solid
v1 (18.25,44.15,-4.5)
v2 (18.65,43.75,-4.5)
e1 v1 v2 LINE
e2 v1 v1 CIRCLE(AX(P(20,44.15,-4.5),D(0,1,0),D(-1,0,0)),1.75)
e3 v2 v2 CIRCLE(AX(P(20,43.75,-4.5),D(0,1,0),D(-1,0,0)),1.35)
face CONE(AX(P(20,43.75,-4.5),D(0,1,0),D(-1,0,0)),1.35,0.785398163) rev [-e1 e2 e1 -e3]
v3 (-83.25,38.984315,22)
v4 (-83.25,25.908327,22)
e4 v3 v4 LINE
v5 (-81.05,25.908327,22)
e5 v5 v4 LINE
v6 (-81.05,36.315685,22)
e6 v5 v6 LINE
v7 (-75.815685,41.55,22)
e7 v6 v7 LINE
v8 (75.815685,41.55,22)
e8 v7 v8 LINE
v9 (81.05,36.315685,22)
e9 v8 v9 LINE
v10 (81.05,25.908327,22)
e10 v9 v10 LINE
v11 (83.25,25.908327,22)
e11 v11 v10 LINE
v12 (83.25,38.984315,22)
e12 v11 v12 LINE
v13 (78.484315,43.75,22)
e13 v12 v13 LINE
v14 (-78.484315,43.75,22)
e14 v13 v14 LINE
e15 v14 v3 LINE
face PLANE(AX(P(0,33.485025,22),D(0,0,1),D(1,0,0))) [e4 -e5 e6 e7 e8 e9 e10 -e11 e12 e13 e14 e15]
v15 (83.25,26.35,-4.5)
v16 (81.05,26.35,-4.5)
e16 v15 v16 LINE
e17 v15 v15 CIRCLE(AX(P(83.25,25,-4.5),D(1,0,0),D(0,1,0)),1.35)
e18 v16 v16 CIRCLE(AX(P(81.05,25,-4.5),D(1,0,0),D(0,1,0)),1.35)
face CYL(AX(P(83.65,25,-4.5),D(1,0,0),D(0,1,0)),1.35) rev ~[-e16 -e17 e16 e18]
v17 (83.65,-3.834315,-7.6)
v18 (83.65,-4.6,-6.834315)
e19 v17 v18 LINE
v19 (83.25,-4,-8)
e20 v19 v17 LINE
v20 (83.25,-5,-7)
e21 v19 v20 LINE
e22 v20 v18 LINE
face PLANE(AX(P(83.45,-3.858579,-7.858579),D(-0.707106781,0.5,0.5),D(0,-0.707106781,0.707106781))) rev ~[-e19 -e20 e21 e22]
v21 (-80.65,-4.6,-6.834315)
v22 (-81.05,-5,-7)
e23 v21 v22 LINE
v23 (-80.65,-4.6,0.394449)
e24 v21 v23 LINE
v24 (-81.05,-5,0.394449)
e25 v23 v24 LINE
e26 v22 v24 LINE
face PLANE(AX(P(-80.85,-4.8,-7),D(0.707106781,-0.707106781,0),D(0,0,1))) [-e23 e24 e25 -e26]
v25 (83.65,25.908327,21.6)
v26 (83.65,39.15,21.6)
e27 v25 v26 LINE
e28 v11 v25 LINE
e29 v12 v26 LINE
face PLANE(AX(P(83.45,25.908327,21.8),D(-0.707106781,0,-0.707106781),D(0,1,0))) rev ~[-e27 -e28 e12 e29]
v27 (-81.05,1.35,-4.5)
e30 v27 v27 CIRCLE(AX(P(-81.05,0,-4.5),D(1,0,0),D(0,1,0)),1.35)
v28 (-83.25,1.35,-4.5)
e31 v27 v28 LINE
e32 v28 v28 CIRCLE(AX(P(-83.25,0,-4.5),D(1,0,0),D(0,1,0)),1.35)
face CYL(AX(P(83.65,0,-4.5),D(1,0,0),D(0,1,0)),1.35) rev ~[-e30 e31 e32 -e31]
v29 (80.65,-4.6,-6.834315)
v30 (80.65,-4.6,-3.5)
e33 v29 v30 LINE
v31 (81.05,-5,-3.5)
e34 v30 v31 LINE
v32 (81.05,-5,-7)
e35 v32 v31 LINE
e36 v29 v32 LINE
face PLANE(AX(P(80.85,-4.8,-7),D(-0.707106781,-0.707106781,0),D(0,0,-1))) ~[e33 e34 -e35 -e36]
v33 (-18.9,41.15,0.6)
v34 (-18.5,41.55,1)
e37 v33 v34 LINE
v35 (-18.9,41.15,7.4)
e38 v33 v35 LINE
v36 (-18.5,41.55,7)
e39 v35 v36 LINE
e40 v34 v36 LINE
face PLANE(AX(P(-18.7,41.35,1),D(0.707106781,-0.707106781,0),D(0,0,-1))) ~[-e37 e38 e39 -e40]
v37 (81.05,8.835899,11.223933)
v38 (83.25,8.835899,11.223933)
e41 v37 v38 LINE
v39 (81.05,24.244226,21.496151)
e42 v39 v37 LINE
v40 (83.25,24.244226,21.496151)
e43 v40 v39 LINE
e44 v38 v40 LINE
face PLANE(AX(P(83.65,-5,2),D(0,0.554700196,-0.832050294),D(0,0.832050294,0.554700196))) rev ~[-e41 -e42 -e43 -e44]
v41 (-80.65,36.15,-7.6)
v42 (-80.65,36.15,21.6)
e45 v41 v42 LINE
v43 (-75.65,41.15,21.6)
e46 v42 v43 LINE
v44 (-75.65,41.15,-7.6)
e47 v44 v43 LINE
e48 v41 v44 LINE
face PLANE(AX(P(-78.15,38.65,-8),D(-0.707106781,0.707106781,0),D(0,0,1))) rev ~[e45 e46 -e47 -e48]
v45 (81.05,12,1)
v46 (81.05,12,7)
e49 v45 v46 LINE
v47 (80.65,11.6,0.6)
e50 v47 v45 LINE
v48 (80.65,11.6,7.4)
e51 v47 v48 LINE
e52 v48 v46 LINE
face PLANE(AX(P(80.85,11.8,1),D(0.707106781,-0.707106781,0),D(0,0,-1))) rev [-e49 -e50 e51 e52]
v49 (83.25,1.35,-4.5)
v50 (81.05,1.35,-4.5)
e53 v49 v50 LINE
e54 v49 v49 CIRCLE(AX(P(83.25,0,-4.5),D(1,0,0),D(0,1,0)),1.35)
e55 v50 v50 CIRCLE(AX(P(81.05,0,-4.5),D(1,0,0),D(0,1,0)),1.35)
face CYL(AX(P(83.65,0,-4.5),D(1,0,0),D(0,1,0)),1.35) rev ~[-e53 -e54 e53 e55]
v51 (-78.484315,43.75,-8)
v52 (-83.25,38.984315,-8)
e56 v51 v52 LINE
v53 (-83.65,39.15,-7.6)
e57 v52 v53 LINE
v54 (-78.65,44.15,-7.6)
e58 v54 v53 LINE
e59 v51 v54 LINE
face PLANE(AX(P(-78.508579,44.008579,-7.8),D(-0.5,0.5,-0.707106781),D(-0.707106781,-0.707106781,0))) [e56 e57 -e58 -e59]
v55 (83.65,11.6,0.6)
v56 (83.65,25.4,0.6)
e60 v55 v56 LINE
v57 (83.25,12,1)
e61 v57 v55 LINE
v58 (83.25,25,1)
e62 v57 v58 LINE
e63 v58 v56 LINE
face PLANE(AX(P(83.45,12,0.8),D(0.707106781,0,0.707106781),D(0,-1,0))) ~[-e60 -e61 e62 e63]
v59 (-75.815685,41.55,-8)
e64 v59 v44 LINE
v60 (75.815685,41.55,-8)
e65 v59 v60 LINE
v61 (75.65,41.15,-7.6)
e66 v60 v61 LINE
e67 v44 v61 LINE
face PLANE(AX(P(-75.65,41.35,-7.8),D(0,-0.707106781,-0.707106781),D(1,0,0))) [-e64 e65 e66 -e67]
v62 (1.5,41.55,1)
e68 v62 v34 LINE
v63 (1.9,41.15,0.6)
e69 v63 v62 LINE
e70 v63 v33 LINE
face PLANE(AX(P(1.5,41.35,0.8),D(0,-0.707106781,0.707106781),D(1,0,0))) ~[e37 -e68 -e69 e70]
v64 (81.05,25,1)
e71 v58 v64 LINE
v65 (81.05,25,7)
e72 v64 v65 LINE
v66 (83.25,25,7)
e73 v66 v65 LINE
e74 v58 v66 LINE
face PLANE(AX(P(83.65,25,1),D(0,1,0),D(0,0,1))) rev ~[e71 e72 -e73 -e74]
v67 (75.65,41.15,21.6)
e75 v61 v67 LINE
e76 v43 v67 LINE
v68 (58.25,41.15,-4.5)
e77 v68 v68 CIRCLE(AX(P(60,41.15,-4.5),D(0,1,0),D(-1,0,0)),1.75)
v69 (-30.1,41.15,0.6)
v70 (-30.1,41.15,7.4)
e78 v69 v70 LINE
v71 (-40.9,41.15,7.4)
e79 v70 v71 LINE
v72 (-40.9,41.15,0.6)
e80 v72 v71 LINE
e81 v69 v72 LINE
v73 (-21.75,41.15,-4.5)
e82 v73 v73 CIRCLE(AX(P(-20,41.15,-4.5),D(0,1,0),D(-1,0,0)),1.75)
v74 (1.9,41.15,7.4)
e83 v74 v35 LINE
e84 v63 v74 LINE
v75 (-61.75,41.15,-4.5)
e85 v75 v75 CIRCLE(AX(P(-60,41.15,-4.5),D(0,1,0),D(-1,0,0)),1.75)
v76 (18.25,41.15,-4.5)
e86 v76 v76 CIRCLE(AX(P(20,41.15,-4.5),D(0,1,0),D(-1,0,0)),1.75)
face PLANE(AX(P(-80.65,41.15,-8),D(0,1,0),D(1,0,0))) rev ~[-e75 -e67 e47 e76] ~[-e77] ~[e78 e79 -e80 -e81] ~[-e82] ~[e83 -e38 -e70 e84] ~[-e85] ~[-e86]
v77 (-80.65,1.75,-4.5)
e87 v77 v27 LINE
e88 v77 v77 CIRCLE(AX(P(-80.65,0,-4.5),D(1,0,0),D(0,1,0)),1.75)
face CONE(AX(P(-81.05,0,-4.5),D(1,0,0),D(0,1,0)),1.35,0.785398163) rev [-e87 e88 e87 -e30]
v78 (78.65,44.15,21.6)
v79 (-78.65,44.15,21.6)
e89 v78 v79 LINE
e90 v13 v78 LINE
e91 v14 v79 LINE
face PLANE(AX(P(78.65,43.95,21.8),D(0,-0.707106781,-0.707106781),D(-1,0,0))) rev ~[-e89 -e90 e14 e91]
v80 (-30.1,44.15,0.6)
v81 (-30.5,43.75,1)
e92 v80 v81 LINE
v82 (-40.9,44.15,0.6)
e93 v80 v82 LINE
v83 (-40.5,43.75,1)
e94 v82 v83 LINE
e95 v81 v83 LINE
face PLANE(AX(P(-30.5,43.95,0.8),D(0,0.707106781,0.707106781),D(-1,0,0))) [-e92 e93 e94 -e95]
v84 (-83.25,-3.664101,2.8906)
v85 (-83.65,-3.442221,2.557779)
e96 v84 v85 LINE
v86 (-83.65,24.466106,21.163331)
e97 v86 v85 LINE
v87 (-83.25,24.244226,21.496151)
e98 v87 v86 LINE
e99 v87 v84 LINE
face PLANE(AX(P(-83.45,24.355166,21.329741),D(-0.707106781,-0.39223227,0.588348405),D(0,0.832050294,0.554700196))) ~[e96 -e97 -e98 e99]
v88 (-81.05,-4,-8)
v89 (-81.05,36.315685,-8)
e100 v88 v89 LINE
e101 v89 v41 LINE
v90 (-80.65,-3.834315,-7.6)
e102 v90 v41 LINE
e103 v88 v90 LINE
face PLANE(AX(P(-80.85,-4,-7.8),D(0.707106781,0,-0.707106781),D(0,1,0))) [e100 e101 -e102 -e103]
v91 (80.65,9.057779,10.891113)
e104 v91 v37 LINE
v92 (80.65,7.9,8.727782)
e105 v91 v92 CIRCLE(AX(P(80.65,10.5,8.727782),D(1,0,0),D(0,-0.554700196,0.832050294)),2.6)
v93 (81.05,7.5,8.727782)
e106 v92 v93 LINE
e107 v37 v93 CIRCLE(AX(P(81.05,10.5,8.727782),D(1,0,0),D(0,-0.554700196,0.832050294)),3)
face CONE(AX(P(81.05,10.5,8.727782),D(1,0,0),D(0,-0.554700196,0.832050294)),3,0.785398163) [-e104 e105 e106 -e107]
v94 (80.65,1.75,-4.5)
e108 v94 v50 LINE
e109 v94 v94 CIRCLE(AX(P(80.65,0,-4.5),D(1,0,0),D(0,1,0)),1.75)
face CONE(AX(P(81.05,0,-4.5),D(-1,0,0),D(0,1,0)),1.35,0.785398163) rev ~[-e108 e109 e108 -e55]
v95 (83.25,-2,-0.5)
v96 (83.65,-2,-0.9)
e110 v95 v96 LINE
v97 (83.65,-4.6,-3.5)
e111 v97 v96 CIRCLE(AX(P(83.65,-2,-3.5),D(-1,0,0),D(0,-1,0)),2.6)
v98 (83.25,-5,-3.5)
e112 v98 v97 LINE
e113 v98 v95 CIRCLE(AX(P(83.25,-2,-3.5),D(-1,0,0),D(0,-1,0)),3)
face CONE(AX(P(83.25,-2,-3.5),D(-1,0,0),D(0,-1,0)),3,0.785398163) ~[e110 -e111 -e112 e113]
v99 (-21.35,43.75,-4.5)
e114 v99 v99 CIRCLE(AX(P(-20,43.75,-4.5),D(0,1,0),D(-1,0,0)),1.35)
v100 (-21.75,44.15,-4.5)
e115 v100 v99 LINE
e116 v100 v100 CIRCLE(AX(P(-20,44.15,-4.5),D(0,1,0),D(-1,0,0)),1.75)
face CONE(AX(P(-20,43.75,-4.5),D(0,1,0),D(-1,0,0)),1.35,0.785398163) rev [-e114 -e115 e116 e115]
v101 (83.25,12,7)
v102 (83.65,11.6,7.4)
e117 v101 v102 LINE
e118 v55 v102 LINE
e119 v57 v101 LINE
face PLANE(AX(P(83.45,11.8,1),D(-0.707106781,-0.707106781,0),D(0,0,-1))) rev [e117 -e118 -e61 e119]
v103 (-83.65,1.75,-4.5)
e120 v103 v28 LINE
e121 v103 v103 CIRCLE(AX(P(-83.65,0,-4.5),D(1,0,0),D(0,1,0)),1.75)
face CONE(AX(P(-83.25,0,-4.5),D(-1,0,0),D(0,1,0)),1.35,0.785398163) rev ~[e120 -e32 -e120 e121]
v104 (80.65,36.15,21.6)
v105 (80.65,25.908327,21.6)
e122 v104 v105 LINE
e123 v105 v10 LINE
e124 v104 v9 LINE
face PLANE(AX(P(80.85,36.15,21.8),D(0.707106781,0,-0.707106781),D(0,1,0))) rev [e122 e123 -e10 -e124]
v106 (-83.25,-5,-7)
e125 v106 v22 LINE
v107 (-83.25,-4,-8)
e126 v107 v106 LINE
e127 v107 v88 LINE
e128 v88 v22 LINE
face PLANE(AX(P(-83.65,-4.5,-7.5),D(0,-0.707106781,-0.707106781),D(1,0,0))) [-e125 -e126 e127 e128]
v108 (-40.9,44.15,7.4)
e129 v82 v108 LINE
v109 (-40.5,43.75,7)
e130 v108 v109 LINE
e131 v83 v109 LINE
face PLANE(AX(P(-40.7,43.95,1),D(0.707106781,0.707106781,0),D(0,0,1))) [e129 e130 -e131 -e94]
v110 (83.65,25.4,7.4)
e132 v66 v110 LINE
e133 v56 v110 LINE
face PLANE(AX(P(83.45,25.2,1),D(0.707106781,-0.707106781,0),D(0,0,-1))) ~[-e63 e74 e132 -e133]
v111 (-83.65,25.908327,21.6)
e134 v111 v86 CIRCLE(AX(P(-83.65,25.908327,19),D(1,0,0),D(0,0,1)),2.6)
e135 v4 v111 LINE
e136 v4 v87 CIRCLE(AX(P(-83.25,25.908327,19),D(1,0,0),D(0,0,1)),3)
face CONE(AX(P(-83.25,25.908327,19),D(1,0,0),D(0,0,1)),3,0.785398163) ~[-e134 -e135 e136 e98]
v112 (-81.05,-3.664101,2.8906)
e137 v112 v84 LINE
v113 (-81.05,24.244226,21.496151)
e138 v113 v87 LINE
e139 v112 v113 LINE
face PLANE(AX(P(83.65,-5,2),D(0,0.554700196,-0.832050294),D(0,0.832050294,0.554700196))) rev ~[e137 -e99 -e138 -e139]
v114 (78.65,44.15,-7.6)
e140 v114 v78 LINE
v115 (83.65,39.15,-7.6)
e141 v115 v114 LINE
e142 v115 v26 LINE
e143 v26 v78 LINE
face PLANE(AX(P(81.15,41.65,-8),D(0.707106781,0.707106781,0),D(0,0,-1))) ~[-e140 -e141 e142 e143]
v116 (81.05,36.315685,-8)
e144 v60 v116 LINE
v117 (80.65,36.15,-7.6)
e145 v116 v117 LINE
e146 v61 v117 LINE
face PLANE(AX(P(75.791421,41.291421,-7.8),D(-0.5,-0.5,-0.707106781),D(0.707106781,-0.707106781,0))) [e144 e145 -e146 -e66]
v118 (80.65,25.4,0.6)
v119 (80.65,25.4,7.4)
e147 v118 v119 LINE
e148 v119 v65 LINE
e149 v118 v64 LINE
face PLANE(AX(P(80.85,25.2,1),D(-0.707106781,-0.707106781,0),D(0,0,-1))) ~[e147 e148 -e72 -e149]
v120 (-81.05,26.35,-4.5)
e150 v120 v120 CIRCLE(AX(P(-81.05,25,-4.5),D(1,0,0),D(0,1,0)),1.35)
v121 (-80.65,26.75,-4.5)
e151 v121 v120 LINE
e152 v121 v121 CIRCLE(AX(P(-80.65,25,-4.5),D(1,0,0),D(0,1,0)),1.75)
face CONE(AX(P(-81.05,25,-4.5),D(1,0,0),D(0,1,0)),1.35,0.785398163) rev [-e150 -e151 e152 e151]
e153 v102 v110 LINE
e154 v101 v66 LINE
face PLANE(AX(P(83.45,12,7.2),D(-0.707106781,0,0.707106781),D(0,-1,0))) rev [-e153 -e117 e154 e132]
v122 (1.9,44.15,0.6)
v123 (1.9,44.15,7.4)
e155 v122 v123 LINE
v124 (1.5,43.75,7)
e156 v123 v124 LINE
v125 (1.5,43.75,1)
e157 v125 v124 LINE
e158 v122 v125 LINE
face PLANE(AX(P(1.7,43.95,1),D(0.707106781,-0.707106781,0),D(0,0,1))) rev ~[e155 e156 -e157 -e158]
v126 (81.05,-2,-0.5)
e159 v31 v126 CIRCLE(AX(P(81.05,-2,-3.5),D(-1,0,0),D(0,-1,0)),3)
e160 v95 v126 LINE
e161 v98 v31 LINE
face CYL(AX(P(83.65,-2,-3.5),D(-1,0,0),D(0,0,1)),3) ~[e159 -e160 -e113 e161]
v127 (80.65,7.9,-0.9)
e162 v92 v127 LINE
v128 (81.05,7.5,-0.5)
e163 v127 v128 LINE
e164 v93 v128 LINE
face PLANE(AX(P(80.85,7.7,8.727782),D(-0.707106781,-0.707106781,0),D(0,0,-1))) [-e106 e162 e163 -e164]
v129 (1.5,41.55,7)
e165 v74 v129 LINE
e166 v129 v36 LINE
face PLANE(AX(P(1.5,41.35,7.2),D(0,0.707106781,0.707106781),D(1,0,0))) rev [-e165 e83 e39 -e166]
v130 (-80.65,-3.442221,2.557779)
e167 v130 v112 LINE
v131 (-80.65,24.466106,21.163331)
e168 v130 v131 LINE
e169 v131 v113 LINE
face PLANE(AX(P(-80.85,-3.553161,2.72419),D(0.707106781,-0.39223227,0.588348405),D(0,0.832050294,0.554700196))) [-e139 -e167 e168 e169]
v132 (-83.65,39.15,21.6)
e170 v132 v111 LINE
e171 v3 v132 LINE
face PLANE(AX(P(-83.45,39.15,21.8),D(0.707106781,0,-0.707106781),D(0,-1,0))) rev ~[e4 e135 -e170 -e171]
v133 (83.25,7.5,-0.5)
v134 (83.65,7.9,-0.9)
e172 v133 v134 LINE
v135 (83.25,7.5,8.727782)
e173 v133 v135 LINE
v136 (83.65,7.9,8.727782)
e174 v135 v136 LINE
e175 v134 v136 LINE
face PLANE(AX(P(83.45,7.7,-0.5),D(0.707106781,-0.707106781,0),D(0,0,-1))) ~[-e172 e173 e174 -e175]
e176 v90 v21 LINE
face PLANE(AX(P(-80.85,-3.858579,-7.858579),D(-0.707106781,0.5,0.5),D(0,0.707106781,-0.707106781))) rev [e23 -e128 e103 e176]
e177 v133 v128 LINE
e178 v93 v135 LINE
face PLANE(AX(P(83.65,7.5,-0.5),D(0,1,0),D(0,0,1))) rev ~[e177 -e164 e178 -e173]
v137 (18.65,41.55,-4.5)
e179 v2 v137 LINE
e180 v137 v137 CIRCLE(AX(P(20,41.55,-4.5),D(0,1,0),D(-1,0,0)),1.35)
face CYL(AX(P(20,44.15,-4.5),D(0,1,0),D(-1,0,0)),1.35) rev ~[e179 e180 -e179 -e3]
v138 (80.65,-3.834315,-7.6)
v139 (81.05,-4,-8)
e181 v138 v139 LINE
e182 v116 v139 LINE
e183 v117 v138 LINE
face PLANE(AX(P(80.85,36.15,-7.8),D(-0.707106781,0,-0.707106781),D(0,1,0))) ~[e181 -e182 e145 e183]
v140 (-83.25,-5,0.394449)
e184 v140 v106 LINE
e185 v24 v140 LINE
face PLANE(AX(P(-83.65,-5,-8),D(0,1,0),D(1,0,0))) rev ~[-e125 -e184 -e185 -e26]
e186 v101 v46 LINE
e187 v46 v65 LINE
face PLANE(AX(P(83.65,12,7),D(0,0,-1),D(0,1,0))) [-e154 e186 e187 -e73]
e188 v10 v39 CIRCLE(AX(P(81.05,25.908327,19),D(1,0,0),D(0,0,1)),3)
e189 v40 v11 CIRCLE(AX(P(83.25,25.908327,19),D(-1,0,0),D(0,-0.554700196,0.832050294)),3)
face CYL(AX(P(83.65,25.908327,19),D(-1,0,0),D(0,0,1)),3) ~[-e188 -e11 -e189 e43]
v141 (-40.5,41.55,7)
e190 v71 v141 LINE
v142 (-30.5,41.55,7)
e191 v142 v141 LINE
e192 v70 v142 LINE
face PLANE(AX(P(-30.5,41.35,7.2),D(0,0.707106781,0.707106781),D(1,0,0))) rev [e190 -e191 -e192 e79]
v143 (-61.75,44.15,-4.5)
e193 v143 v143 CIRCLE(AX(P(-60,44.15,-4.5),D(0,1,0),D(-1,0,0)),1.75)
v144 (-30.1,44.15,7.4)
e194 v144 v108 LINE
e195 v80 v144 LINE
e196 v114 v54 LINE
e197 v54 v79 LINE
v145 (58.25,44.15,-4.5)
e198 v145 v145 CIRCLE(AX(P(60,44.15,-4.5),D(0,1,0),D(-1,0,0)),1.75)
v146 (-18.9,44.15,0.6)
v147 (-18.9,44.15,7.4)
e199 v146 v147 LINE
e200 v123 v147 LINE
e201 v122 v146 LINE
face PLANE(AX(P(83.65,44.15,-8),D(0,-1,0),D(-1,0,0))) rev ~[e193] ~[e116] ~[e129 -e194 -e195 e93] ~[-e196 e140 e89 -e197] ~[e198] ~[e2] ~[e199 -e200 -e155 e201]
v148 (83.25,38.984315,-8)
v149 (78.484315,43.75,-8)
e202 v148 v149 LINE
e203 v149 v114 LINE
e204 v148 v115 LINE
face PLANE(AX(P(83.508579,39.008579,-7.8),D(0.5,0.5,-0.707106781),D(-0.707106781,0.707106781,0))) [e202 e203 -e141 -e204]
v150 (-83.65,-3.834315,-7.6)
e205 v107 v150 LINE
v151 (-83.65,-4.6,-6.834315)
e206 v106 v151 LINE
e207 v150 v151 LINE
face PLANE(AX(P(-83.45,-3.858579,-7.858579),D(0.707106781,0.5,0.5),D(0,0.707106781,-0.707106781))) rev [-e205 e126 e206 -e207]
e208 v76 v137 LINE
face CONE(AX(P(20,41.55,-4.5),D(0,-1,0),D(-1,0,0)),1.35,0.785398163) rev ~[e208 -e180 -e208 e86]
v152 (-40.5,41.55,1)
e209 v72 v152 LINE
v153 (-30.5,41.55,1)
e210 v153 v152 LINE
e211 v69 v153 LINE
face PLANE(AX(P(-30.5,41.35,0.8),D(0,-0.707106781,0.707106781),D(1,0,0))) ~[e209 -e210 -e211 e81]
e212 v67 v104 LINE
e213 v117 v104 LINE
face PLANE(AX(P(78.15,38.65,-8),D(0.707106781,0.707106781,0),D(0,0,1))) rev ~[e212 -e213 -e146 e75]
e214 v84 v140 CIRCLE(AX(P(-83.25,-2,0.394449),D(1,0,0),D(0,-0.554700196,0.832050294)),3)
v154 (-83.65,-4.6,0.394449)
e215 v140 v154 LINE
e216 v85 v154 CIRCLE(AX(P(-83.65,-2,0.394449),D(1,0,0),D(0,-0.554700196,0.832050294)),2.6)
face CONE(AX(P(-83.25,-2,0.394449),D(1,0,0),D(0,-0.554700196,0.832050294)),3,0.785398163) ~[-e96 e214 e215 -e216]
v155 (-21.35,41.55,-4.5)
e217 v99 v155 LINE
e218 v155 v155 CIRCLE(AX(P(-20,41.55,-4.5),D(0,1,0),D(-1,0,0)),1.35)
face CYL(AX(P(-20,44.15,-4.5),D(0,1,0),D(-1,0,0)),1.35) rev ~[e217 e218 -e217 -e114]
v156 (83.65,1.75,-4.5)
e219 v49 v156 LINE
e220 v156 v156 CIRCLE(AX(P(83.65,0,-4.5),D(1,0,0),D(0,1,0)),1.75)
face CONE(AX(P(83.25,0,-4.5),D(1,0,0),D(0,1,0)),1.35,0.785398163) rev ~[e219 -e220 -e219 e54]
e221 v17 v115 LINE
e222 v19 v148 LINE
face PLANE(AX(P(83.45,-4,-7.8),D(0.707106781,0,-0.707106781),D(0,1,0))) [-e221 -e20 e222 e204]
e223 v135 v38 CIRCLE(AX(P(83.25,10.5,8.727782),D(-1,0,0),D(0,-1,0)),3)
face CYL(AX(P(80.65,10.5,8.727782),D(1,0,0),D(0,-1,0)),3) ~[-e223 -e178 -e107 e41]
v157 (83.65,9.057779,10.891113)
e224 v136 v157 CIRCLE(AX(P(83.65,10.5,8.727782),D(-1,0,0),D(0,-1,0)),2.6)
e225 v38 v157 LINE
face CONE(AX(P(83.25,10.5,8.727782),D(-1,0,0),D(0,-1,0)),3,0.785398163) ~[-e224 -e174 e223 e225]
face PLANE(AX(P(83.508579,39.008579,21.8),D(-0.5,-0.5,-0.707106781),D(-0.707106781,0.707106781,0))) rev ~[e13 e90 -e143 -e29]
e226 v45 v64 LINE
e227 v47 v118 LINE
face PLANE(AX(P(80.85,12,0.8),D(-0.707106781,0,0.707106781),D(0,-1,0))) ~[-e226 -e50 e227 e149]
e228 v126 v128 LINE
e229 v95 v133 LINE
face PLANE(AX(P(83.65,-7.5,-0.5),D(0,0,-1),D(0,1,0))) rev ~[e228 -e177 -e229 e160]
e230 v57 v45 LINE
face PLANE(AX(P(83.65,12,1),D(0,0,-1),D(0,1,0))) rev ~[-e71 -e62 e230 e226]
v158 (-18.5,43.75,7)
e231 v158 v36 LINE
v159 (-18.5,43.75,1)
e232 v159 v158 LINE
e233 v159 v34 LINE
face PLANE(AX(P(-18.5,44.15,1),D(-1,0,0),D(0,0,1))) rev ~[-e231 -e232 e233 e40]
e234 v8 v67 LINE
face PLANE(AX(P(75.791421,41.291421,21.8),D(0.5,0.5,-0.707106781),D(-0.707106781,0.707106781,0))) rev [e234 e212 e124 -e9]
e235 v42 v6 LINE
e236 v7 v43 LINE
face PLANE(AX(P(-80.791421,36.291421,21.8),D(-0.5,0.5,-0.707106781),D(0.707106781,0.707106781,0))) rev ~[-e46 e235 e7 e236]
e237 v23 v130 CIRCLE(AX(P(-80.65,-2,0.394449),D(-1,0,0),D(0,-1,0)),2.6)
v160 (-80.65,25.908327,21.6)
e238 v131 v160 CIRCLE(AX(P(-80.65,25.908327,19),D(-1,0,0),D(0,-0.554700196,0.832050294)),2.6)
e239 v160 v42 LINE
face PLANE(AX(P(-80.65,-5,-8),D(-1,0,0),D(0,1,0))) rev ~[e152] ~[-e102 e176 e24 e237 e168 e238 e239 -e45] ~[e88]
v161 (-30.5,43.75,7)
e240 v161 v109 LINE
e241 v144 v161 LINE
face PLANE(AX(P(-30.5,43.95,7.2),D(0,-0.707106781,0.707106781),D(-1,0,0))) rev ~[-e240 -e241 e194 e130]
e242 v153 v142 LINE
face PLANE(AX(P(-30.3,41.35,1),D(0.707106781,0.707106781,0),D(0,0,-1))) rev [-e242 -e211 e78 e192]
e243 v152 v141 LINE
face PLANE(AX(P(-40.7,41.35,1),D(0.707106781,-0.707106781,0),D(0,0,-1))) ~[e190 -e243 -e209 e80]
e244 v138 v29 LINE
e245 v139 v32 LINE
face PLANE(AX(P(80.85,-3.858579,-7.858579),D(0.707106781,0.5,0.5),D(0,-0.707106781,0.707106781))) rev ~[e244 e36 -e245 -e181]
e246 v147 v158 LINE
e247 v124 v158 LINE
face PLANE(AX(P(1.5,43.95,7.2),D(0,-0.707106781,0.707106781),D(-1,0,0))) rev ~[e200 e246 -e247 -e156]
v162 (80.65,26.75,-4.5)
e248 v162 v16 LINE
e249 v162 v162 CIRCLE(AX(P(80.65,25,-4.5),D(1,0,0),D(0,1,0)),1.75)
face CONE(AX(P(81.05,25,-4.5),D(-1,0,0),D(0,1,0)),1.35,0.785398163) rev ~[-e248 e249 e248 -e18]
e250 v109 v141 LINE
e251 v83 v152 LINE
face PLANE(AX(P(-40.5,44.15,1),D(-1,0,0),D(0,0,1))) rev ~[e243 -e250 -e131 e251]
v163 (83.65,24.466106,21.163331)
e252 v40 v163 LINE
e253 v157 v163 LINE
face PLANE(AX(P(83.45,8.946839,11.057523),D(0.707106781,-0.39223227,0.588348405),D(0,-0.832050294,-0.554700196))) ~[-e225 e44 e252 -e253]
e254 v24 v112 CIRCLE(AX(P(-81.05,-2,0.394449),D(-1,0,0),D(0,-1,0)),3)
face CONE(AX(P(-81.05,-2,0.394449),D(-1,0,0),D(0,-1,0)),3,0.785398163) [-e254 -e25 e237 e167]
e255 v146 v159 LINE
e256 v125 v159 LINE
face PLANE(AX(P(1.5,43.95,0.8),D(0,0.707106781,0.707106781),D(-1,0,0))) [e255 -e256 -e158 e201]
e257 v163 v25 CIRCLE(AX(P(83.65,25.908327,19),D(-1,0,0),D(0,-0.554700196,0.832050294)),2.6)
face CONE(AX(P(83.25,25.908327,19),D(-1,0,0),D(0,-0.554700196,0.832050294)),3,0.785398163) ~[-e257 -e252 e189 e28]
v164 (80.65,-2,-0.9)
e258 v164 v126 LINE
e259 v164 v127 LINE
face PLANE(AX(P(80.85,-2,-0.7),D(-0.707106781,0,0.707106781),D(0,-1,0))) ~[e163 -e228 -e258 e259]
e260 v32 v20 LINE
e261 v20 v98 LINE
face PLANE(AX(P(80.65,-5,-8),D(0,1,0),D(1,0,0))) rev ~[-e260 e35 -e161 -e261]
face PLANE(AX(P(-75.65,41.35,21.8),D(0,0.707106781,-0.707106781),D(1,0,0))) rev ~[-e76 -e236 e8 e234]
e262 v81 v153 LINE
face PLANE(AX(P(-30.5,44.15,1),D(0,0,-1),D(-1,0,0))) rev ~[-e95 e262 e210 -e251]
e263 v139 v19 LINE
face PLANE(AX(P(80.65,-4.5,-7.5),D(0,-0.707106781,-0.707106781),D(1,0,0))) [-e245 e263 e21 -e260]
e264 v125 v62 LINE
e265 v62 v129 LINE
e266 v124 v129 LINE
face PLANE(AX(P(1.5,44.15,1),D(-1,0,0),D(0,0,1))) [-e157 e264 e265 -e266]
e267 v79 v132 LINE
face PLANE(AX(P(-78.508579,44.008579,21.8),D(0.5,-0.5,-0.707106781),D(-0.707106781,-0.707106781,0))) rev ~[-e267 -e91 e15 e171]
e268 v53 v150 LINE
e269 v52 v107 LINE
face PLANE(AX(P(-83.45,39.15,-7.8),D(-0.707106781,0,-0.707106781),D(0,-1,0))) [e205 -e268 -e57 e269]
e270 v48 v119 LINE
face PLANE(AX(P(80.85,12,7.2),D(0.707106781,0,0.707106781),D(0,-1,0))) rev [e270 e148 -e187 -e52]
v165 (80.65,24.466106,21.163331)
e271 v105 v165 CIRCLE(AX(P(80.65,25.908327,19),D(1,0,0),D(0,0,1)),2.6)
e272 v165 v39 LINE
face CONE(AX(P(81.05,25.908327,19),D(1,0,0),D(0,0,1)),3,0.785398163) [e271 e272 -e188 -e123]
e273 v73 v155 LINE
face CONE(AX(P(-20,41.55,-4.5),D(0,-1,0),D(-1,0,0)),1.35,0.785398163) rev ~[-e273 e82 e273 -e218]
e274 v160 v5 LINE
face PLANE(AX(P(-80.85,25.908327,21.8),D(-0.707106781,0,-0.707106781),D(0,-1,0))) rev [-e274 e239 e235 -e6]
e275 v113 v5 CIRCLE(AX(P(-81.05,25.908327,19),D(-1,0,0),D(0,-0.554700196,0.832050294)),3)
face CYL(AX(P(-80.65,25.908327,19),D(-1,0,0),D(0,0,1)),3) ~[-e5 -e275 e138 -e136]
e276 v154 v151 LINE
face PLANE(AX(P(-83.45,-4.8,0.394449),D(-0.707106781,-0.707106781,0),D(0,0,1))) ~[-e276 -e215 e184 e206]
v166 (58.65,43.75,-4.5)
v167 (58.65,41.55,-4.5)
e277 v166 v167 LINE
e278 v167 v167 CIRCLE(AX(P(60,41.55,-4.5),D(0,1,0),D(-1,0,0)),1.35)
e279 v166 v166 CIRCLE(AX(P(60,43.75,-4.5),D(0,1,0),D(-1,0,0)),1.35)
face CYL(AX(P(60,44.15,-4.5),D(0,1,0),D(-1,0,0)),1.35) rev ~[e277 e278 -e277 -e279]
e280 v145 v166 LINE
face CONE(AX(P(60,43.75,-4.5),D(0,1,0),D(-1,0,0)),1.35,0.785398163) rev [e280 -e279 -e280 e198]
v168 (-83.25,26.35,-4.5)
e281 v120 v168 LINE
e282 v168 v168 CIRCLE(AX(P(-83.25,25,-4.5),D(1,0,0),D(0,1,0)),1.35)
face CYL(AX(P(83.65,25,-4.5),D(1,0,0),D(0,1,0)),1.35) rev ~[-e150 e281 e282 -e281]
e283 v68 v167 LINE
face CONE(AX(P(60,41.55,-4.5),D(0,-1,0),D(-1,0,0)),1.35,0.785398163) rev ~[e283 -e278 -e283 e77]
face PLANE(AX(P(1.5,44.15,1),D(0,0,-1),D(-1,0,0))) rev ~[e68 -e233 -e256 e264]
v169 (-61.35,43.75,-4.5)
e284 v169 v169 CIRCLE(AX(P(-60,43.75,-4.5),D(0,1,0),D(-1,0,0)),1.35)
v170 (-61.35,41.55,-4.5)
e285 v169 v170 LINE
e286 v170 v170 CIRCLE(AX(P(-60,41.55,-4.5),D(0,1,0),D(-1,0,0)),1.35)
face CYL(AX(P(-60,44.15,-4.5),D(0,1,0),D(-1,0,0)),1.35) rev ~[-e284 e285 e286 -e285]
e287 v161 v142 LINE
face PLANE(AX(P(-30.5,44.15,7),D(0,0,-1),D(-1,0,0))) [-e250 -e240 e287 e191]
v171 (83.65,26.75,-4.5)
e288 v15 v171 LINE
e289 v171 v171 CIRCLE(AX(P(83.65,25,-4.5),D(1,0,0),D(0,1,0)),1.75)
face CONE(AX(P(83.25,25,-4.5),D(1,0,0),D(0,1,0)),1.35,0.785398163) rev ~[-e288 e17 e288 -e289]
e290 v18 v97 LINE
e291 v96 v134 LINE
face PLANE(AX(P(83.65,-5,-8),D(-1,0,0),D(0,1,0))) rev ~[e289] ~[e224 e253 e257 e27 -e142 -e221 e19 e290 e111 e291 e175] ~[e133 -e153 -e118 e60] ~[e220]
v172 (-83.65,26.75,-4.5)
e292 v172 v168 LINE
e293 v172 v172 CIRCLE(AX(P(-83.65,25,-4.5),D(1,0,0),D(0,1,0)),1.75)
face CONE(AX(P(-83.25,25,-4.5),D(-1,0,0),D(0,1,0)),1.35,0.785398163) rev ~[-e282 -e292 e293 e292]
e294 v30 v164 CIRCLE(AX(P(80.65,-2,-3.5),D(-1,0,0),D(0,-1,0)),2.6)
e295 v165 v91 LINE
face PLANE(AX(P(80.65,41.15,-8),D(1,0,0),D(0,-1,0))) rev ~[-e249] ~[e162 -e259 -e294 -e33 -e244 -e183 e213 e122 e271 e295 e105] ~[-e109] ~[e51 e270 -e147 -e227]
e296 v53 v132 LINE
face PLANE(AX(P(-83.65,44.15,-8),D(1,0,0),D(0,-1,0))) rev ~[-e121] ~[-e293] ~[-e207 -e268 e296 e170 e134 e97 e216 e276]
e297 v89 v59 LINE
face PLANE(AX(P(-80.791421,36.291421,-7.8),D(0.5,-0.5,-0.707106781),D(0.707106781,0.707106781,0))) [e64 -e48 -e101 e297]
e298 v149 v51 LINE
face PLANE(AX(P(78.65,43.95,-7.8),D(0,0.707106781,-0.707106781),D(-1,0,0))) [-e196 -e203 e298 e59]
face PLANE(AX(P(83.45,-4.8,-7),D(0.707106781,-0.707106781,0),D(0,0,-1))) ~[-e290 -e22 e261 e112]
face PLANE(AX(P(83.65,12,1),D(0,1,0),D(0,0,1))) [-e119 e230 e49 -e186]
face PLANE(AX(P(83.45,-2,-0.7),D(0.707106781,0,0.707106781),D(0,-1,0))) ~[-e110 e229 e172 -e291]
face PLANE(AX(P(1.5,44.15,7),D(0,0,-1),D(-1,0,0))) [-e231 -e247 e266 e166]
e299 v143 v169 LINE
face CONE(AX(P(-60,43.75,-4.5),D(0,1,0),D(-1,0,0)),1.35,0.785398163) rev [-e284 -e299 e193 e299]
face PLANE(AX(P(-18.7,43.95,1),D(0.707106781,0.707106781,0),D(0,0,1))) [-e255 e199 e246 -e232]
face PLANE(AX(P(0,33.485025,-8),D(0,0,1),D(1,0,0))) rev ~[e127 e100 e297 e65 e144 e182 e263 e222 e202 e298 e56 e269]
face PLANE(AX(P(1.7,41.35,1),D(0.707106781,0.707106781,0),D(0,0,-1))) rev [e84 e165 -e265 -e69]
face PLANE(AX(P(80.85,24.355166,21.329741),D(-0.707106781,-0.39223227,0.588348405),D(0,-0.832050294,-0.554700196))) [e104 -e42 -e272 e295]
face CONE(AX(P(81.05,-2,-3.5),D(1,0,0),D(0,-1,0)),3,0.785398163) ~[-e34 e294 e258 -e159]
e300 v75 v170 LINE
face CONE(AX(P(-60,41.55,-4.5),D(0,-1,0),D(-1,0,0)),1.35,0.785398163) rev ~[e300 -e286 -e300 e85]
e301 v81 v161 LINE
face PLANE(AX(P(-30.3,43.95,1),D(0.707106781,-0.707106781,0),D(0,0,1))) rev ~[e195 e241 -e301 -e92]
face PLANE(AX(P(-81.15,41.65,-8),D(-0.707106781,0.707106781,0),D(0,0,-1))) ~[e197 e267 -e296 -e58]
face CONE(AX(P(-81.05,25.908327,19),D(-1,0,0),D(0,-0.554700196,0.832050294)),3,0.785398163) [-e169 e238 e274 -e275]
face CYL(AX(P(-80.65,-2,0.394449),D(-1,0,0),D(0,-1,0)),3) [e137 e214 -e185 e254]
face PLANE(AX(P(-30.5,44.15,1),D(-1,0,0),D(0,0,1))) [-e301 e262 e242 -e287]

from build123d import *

# Parameters (mm, degrees)
PAD010_DEPTH          = 30
CHAMFER036003003_SIZE = 5
POCKET008013_DEPTH    = 167.301
SKETCH022_R           = 1.35
POCKET008014_DEPTH    = 49.151
SKETCH023_R           = 1.35
POCKET008015_DEPTH    = 167.301
SKETCH024_W           = 13
SKETCH024_H           = 6
POCKET008016_DEPTH    = 5
SKETCH025_W           = 20
SKETCH025_H           = 6
SKETCH025_W_2         = 10
POCKET008017_DEPTH    = 5
CHAMFER036003004_SIZE = 1
FILLET002_R           = 3
SKETCH037_W           = 15
SKETCH037_H           = 15
POCKET008026_DEPTH    = 5
FILLET006_R           = 3
FILLET007_R           = 3
CHAMFER036003010_SIZE = 0.4


with BuildPart() as part:
    # Sketch020 → Pad010 (new body)
    with BuildSketch(Plane.XY):
        Polygon((-80.65, -5), (-80.65, 41.15), (80.65, 41.15), (80.65, -5), (83.65, -5), (83.65, 44.15), (-83.65, 44.15), (-83.65, -5), align=None)
    extrude(amount=PAD010_DEPTH)

    # Chamfer036003003
    chamfer036003003_edges = [part.edges().sort_by_distance(p)[0] for p in [
        (-83.65, 44.15, 15),
        (-80.65, 41.15, 15),
        (80.65, 41.15, 15),
        (83.65, 44.15, 15),
    ]]
    chamfer(chamfer036003003_edges, length=CHAMFER036003003_SIZE)

    # Sketch021 (on Face14 of Chamfer036003003) → Pocket008013 (cut, through all)
    with BuildSketch(Plane.YZ.offset(83.65)):
        Polygon((-5, 10), (25, 30), (-5, 30), align=None)
    extrude(amount=-POCKET008013_DEPTH, mode=Mode.SUBTRACT)

    # Sketch022 (on Face10 of Pocket008013) → Pocket008014 (cut, through all)
    with BuildSketch(Plane(origin=(0, 44.15, 0), x_dir=(-1, 0, 0), z_dir=(0, 1, 0))):
        with Locations((-60, 3.5)):
            Circle(SKETCH022_R)
        with Locations((-20, 3.5)):
            Circle(SKETCH022_R)
        with Locations((20, 3.5)):
            Circle(SKETCH022_R)
        with Locations((60, 3.5)):
            Circle(SKETCH022_R)
    extrude(amount=-POCKET008014_DEPTH, mode=Mode.SUBTRACT)

    # Sketch023 (on Face12 of Pocket008014) → Pocket008015 (cut, through all)
    with BuildSketch(Plane.YZ.offset(83.65)):
        with Locations((0, 3.5)):
            Circle(SKETCH023_R)
        with Locations((25, 3.5)):
            Circle(SKETCH023_R)
    extrude(amount=-POCKET008015_DEPTH, mode=Mode.SUBTRACT)

    # Sketch024 (on Face17 of Pocket008015) → Pocket008016 (cut)
    with BuildSketch(Plane.YZ.offset(83.65)):
        with Locations((18.5, 12)):
            Rectangle(SKETCH024_W, SKETCH024_H)
    extrude(amount=-POCKET008016_DEPTH, mode=Mode.SUBTRACT)

    # Sketch025 (on Face14 of Pocket008016) → Pocket008017 (cut)
    with BuildSketch(Plane(origin=(0, 44.15, 0), x_dir=(-1, 0, 0), z_dir=(0, 1, 0))):
        with Locations((8.5, 12)):
            Rectangle(SKETCH025_W, SKETCH025_H)
        with Locations((35.5, 12)):
            Rectangle(SKETCH025_W_2, SKETCH025_H)
    extrude(amount=-POCKET008017_DEPTH, mode=Mode.SUBTRACT)

    # Chamfer036003004
    chamfer036003004_edges = [part.edges().sort_by_distance(p)[0] for p in [
        (82.15, -5, 0),
        (-82.15, -5, 0),
    ]]
    chamfer(chamfer036003004_edges, length=CHAMFER036003004_SIZE)

    # Fillet002
    fillet002_edges = [part.edges().sort_by_distance(p)[0] for p in [
        (-82.15, 25, 30),
        (-82.15, -5, 10),
        (82.15, 25, 30),
        (82.15, -5, 10),
    ]]
    fillet(fillet002_edges, radius=FILLET002_R)

    # Sketch037 (on Face20 of Fillet002) → Pocket008026 (cut)
    with BuildSketch(Plane.YZ.offset(83.65)):
        with Locations((0, 15)):
            Rectangle(SKETCH037_W, SKETCH037_H)
    extrude(amount=-POCKET008026_DEPTH, mode=Mode.SUBTRACT)

    # Fillet006
    fillet006_edges = [part.edges().sort_by_distance(p)[0] for p in [
        (82.15, 7.5, 18.333333),
    ]]
    fillet(fillet006_edges, radius=FILLET006_R)

    # Fillet007
    fillet007_edges = [part.edges().sort_by_distance(p)[0] for p in [
        (82.15, -5, 7.5),
    ]]
    fillet(fillet007_edges, radius=FILLET007_R)

    # Chamfer036003010
    chamfer036003010_edges = [part.edges().sort_by_distance(p)[0] for p in [
        (83.65, -5, 2.75),
        (83.65, -4.5, 0.5),
        (83.65, 17.575, 0),
        (83.65, -4.12132, 6.62132),
        (83.65, 2.75, 7.5),
        (83.65, 7.5, 12.113891),
        (83.65, 7.854976, 18.143356),
        (83.65, 16.540063, 24.360042),
        (83.65, 32.529163, 30),
        (83.65, 25.038974, 29.871276),
        (81.15, 41.65, 30),
        (0, 44.15, 30),
        (-81.15, 41.65, 30),
        (-83.65, 32.529163, 30),
        (-83.65, 25.038974, 29.871276),
        (-83.65, 10.290063, 20.193375),
        (-83.65, -4.645024, 9.810023),
        (-83.65, -5, 4.697224),
        (-83.65, -4.5, 0.5),
        (-83.65, 17.575, 0),
        (-81.15, 41.65, 0),
        (0, 44.15, 0),
        (81.15, 41.65, 0),
        (78.15, 38.65, 0),
        (0, 41.15, 0),
        (-78.15, 38.65, 0),
        (-80.65, 16.075, 0),
        (-80.65, -4.5, 0.5),
        (-80.65, -5, 4.697224),
        (-80.65, -4.645024, 9.810023),
        (-80.65, 10.290063, 20.193375),
        (-80.65, 25.038974, 29.871276),
        (-80.65, 31.029163, 30),
        (-78.15, 38.65, 30),
        (0, 41.15, 30),
        (78.15, 38.65, 30),
        (80.65, 31.029163, 30),
        (80.65, 25.038974, 29.871276),
        (80.65, 16.540063, 24.360042),
        (80.65, 7.854976, 18.143356),
        (80.65, 7.5, 12.113891),
        (80.65, 2.75, 7.5),
        (80.65, -4.12132, 6.62132),
        (80.65, -5, 2.75),
        (80.65, 16.075, 0),
        (80.65, -4.5, 0.5),
        (-80.65, -1.35, 3.5),
        (-82.15, 1.35, 3.5),
        (-83.65, -1.35, 3.5),
        (-80.65, 23.65, 3.5),
        (-82.15, 26.35, 3.5),
        (-83.65, 23.65, 3.5),
        (-58.65, 44.15, 3.5),
        (-61.35, 42.65, 3.5),
        (-58.65, 41.15, 3.5),
        (-18.65, 44.15, 3.5),
        (-21.35, 42.65, 3.5),
        (-18.65, 41.15, 3.5),
        (21.35, 44.15, 3.5),
        (18.65, 42.65, 3.5),
        (21.35, 41.15, 3.5),
        (61.35, 44.15, 3.5),
        (58.65, 42.65, 3.5),
        (61.35, 41.15, 3.5),
        (83.65, 23.65, 3.5),
        (82.15, 26.35, 3.5),
        (80.65, 23.65, 3.5),
        (83.65, -1.35, 3.5),
        (82.15, 1.35, 3.5),
        (80.65, -1.35, 3.5),
        (80.65, 18.5, 15),
        (80.65, 12, 12),
        (80.65, 18.5, 9),
        (80.65, 25, 12),
        (83.65, 18.5, 15),
        (83.65, 12, 12),
        (83.65, 18.5, 9),
        (83.65, 25, 12),
        (-8.5, 44.15, 9),
        (1.5, 44.15, 12),
        (-8.5, 44.15, 15),
        (1.5, 41.15, 12),
        (-8.5, 41.15, 15),
        (-8.5, 41.15, 9),
        (-18.5, 44.15, 12),
        (-18.5, 41.15, 12),
        (-35.5, 44.15, 9),
        (-30.5, 44.15, 12),
        (-40.5, 44.15, 12),
        (-35.5, 44.15, 15),
        (-35.5, 41.15, 15),
        (-40.5, 41.15, 12),
        (-35.5, 41.15, 9),
        (-30.5, 41.15, 12),
    ]]
    chamfer(chamfer036003010_edges, length=CHAMFER036003010_SIZE)


with BuildPart() as part_1:
    # Body002 placement: moved
    add(part.part.moved(Location((0, 0, -8))))


solid = part_1.part
